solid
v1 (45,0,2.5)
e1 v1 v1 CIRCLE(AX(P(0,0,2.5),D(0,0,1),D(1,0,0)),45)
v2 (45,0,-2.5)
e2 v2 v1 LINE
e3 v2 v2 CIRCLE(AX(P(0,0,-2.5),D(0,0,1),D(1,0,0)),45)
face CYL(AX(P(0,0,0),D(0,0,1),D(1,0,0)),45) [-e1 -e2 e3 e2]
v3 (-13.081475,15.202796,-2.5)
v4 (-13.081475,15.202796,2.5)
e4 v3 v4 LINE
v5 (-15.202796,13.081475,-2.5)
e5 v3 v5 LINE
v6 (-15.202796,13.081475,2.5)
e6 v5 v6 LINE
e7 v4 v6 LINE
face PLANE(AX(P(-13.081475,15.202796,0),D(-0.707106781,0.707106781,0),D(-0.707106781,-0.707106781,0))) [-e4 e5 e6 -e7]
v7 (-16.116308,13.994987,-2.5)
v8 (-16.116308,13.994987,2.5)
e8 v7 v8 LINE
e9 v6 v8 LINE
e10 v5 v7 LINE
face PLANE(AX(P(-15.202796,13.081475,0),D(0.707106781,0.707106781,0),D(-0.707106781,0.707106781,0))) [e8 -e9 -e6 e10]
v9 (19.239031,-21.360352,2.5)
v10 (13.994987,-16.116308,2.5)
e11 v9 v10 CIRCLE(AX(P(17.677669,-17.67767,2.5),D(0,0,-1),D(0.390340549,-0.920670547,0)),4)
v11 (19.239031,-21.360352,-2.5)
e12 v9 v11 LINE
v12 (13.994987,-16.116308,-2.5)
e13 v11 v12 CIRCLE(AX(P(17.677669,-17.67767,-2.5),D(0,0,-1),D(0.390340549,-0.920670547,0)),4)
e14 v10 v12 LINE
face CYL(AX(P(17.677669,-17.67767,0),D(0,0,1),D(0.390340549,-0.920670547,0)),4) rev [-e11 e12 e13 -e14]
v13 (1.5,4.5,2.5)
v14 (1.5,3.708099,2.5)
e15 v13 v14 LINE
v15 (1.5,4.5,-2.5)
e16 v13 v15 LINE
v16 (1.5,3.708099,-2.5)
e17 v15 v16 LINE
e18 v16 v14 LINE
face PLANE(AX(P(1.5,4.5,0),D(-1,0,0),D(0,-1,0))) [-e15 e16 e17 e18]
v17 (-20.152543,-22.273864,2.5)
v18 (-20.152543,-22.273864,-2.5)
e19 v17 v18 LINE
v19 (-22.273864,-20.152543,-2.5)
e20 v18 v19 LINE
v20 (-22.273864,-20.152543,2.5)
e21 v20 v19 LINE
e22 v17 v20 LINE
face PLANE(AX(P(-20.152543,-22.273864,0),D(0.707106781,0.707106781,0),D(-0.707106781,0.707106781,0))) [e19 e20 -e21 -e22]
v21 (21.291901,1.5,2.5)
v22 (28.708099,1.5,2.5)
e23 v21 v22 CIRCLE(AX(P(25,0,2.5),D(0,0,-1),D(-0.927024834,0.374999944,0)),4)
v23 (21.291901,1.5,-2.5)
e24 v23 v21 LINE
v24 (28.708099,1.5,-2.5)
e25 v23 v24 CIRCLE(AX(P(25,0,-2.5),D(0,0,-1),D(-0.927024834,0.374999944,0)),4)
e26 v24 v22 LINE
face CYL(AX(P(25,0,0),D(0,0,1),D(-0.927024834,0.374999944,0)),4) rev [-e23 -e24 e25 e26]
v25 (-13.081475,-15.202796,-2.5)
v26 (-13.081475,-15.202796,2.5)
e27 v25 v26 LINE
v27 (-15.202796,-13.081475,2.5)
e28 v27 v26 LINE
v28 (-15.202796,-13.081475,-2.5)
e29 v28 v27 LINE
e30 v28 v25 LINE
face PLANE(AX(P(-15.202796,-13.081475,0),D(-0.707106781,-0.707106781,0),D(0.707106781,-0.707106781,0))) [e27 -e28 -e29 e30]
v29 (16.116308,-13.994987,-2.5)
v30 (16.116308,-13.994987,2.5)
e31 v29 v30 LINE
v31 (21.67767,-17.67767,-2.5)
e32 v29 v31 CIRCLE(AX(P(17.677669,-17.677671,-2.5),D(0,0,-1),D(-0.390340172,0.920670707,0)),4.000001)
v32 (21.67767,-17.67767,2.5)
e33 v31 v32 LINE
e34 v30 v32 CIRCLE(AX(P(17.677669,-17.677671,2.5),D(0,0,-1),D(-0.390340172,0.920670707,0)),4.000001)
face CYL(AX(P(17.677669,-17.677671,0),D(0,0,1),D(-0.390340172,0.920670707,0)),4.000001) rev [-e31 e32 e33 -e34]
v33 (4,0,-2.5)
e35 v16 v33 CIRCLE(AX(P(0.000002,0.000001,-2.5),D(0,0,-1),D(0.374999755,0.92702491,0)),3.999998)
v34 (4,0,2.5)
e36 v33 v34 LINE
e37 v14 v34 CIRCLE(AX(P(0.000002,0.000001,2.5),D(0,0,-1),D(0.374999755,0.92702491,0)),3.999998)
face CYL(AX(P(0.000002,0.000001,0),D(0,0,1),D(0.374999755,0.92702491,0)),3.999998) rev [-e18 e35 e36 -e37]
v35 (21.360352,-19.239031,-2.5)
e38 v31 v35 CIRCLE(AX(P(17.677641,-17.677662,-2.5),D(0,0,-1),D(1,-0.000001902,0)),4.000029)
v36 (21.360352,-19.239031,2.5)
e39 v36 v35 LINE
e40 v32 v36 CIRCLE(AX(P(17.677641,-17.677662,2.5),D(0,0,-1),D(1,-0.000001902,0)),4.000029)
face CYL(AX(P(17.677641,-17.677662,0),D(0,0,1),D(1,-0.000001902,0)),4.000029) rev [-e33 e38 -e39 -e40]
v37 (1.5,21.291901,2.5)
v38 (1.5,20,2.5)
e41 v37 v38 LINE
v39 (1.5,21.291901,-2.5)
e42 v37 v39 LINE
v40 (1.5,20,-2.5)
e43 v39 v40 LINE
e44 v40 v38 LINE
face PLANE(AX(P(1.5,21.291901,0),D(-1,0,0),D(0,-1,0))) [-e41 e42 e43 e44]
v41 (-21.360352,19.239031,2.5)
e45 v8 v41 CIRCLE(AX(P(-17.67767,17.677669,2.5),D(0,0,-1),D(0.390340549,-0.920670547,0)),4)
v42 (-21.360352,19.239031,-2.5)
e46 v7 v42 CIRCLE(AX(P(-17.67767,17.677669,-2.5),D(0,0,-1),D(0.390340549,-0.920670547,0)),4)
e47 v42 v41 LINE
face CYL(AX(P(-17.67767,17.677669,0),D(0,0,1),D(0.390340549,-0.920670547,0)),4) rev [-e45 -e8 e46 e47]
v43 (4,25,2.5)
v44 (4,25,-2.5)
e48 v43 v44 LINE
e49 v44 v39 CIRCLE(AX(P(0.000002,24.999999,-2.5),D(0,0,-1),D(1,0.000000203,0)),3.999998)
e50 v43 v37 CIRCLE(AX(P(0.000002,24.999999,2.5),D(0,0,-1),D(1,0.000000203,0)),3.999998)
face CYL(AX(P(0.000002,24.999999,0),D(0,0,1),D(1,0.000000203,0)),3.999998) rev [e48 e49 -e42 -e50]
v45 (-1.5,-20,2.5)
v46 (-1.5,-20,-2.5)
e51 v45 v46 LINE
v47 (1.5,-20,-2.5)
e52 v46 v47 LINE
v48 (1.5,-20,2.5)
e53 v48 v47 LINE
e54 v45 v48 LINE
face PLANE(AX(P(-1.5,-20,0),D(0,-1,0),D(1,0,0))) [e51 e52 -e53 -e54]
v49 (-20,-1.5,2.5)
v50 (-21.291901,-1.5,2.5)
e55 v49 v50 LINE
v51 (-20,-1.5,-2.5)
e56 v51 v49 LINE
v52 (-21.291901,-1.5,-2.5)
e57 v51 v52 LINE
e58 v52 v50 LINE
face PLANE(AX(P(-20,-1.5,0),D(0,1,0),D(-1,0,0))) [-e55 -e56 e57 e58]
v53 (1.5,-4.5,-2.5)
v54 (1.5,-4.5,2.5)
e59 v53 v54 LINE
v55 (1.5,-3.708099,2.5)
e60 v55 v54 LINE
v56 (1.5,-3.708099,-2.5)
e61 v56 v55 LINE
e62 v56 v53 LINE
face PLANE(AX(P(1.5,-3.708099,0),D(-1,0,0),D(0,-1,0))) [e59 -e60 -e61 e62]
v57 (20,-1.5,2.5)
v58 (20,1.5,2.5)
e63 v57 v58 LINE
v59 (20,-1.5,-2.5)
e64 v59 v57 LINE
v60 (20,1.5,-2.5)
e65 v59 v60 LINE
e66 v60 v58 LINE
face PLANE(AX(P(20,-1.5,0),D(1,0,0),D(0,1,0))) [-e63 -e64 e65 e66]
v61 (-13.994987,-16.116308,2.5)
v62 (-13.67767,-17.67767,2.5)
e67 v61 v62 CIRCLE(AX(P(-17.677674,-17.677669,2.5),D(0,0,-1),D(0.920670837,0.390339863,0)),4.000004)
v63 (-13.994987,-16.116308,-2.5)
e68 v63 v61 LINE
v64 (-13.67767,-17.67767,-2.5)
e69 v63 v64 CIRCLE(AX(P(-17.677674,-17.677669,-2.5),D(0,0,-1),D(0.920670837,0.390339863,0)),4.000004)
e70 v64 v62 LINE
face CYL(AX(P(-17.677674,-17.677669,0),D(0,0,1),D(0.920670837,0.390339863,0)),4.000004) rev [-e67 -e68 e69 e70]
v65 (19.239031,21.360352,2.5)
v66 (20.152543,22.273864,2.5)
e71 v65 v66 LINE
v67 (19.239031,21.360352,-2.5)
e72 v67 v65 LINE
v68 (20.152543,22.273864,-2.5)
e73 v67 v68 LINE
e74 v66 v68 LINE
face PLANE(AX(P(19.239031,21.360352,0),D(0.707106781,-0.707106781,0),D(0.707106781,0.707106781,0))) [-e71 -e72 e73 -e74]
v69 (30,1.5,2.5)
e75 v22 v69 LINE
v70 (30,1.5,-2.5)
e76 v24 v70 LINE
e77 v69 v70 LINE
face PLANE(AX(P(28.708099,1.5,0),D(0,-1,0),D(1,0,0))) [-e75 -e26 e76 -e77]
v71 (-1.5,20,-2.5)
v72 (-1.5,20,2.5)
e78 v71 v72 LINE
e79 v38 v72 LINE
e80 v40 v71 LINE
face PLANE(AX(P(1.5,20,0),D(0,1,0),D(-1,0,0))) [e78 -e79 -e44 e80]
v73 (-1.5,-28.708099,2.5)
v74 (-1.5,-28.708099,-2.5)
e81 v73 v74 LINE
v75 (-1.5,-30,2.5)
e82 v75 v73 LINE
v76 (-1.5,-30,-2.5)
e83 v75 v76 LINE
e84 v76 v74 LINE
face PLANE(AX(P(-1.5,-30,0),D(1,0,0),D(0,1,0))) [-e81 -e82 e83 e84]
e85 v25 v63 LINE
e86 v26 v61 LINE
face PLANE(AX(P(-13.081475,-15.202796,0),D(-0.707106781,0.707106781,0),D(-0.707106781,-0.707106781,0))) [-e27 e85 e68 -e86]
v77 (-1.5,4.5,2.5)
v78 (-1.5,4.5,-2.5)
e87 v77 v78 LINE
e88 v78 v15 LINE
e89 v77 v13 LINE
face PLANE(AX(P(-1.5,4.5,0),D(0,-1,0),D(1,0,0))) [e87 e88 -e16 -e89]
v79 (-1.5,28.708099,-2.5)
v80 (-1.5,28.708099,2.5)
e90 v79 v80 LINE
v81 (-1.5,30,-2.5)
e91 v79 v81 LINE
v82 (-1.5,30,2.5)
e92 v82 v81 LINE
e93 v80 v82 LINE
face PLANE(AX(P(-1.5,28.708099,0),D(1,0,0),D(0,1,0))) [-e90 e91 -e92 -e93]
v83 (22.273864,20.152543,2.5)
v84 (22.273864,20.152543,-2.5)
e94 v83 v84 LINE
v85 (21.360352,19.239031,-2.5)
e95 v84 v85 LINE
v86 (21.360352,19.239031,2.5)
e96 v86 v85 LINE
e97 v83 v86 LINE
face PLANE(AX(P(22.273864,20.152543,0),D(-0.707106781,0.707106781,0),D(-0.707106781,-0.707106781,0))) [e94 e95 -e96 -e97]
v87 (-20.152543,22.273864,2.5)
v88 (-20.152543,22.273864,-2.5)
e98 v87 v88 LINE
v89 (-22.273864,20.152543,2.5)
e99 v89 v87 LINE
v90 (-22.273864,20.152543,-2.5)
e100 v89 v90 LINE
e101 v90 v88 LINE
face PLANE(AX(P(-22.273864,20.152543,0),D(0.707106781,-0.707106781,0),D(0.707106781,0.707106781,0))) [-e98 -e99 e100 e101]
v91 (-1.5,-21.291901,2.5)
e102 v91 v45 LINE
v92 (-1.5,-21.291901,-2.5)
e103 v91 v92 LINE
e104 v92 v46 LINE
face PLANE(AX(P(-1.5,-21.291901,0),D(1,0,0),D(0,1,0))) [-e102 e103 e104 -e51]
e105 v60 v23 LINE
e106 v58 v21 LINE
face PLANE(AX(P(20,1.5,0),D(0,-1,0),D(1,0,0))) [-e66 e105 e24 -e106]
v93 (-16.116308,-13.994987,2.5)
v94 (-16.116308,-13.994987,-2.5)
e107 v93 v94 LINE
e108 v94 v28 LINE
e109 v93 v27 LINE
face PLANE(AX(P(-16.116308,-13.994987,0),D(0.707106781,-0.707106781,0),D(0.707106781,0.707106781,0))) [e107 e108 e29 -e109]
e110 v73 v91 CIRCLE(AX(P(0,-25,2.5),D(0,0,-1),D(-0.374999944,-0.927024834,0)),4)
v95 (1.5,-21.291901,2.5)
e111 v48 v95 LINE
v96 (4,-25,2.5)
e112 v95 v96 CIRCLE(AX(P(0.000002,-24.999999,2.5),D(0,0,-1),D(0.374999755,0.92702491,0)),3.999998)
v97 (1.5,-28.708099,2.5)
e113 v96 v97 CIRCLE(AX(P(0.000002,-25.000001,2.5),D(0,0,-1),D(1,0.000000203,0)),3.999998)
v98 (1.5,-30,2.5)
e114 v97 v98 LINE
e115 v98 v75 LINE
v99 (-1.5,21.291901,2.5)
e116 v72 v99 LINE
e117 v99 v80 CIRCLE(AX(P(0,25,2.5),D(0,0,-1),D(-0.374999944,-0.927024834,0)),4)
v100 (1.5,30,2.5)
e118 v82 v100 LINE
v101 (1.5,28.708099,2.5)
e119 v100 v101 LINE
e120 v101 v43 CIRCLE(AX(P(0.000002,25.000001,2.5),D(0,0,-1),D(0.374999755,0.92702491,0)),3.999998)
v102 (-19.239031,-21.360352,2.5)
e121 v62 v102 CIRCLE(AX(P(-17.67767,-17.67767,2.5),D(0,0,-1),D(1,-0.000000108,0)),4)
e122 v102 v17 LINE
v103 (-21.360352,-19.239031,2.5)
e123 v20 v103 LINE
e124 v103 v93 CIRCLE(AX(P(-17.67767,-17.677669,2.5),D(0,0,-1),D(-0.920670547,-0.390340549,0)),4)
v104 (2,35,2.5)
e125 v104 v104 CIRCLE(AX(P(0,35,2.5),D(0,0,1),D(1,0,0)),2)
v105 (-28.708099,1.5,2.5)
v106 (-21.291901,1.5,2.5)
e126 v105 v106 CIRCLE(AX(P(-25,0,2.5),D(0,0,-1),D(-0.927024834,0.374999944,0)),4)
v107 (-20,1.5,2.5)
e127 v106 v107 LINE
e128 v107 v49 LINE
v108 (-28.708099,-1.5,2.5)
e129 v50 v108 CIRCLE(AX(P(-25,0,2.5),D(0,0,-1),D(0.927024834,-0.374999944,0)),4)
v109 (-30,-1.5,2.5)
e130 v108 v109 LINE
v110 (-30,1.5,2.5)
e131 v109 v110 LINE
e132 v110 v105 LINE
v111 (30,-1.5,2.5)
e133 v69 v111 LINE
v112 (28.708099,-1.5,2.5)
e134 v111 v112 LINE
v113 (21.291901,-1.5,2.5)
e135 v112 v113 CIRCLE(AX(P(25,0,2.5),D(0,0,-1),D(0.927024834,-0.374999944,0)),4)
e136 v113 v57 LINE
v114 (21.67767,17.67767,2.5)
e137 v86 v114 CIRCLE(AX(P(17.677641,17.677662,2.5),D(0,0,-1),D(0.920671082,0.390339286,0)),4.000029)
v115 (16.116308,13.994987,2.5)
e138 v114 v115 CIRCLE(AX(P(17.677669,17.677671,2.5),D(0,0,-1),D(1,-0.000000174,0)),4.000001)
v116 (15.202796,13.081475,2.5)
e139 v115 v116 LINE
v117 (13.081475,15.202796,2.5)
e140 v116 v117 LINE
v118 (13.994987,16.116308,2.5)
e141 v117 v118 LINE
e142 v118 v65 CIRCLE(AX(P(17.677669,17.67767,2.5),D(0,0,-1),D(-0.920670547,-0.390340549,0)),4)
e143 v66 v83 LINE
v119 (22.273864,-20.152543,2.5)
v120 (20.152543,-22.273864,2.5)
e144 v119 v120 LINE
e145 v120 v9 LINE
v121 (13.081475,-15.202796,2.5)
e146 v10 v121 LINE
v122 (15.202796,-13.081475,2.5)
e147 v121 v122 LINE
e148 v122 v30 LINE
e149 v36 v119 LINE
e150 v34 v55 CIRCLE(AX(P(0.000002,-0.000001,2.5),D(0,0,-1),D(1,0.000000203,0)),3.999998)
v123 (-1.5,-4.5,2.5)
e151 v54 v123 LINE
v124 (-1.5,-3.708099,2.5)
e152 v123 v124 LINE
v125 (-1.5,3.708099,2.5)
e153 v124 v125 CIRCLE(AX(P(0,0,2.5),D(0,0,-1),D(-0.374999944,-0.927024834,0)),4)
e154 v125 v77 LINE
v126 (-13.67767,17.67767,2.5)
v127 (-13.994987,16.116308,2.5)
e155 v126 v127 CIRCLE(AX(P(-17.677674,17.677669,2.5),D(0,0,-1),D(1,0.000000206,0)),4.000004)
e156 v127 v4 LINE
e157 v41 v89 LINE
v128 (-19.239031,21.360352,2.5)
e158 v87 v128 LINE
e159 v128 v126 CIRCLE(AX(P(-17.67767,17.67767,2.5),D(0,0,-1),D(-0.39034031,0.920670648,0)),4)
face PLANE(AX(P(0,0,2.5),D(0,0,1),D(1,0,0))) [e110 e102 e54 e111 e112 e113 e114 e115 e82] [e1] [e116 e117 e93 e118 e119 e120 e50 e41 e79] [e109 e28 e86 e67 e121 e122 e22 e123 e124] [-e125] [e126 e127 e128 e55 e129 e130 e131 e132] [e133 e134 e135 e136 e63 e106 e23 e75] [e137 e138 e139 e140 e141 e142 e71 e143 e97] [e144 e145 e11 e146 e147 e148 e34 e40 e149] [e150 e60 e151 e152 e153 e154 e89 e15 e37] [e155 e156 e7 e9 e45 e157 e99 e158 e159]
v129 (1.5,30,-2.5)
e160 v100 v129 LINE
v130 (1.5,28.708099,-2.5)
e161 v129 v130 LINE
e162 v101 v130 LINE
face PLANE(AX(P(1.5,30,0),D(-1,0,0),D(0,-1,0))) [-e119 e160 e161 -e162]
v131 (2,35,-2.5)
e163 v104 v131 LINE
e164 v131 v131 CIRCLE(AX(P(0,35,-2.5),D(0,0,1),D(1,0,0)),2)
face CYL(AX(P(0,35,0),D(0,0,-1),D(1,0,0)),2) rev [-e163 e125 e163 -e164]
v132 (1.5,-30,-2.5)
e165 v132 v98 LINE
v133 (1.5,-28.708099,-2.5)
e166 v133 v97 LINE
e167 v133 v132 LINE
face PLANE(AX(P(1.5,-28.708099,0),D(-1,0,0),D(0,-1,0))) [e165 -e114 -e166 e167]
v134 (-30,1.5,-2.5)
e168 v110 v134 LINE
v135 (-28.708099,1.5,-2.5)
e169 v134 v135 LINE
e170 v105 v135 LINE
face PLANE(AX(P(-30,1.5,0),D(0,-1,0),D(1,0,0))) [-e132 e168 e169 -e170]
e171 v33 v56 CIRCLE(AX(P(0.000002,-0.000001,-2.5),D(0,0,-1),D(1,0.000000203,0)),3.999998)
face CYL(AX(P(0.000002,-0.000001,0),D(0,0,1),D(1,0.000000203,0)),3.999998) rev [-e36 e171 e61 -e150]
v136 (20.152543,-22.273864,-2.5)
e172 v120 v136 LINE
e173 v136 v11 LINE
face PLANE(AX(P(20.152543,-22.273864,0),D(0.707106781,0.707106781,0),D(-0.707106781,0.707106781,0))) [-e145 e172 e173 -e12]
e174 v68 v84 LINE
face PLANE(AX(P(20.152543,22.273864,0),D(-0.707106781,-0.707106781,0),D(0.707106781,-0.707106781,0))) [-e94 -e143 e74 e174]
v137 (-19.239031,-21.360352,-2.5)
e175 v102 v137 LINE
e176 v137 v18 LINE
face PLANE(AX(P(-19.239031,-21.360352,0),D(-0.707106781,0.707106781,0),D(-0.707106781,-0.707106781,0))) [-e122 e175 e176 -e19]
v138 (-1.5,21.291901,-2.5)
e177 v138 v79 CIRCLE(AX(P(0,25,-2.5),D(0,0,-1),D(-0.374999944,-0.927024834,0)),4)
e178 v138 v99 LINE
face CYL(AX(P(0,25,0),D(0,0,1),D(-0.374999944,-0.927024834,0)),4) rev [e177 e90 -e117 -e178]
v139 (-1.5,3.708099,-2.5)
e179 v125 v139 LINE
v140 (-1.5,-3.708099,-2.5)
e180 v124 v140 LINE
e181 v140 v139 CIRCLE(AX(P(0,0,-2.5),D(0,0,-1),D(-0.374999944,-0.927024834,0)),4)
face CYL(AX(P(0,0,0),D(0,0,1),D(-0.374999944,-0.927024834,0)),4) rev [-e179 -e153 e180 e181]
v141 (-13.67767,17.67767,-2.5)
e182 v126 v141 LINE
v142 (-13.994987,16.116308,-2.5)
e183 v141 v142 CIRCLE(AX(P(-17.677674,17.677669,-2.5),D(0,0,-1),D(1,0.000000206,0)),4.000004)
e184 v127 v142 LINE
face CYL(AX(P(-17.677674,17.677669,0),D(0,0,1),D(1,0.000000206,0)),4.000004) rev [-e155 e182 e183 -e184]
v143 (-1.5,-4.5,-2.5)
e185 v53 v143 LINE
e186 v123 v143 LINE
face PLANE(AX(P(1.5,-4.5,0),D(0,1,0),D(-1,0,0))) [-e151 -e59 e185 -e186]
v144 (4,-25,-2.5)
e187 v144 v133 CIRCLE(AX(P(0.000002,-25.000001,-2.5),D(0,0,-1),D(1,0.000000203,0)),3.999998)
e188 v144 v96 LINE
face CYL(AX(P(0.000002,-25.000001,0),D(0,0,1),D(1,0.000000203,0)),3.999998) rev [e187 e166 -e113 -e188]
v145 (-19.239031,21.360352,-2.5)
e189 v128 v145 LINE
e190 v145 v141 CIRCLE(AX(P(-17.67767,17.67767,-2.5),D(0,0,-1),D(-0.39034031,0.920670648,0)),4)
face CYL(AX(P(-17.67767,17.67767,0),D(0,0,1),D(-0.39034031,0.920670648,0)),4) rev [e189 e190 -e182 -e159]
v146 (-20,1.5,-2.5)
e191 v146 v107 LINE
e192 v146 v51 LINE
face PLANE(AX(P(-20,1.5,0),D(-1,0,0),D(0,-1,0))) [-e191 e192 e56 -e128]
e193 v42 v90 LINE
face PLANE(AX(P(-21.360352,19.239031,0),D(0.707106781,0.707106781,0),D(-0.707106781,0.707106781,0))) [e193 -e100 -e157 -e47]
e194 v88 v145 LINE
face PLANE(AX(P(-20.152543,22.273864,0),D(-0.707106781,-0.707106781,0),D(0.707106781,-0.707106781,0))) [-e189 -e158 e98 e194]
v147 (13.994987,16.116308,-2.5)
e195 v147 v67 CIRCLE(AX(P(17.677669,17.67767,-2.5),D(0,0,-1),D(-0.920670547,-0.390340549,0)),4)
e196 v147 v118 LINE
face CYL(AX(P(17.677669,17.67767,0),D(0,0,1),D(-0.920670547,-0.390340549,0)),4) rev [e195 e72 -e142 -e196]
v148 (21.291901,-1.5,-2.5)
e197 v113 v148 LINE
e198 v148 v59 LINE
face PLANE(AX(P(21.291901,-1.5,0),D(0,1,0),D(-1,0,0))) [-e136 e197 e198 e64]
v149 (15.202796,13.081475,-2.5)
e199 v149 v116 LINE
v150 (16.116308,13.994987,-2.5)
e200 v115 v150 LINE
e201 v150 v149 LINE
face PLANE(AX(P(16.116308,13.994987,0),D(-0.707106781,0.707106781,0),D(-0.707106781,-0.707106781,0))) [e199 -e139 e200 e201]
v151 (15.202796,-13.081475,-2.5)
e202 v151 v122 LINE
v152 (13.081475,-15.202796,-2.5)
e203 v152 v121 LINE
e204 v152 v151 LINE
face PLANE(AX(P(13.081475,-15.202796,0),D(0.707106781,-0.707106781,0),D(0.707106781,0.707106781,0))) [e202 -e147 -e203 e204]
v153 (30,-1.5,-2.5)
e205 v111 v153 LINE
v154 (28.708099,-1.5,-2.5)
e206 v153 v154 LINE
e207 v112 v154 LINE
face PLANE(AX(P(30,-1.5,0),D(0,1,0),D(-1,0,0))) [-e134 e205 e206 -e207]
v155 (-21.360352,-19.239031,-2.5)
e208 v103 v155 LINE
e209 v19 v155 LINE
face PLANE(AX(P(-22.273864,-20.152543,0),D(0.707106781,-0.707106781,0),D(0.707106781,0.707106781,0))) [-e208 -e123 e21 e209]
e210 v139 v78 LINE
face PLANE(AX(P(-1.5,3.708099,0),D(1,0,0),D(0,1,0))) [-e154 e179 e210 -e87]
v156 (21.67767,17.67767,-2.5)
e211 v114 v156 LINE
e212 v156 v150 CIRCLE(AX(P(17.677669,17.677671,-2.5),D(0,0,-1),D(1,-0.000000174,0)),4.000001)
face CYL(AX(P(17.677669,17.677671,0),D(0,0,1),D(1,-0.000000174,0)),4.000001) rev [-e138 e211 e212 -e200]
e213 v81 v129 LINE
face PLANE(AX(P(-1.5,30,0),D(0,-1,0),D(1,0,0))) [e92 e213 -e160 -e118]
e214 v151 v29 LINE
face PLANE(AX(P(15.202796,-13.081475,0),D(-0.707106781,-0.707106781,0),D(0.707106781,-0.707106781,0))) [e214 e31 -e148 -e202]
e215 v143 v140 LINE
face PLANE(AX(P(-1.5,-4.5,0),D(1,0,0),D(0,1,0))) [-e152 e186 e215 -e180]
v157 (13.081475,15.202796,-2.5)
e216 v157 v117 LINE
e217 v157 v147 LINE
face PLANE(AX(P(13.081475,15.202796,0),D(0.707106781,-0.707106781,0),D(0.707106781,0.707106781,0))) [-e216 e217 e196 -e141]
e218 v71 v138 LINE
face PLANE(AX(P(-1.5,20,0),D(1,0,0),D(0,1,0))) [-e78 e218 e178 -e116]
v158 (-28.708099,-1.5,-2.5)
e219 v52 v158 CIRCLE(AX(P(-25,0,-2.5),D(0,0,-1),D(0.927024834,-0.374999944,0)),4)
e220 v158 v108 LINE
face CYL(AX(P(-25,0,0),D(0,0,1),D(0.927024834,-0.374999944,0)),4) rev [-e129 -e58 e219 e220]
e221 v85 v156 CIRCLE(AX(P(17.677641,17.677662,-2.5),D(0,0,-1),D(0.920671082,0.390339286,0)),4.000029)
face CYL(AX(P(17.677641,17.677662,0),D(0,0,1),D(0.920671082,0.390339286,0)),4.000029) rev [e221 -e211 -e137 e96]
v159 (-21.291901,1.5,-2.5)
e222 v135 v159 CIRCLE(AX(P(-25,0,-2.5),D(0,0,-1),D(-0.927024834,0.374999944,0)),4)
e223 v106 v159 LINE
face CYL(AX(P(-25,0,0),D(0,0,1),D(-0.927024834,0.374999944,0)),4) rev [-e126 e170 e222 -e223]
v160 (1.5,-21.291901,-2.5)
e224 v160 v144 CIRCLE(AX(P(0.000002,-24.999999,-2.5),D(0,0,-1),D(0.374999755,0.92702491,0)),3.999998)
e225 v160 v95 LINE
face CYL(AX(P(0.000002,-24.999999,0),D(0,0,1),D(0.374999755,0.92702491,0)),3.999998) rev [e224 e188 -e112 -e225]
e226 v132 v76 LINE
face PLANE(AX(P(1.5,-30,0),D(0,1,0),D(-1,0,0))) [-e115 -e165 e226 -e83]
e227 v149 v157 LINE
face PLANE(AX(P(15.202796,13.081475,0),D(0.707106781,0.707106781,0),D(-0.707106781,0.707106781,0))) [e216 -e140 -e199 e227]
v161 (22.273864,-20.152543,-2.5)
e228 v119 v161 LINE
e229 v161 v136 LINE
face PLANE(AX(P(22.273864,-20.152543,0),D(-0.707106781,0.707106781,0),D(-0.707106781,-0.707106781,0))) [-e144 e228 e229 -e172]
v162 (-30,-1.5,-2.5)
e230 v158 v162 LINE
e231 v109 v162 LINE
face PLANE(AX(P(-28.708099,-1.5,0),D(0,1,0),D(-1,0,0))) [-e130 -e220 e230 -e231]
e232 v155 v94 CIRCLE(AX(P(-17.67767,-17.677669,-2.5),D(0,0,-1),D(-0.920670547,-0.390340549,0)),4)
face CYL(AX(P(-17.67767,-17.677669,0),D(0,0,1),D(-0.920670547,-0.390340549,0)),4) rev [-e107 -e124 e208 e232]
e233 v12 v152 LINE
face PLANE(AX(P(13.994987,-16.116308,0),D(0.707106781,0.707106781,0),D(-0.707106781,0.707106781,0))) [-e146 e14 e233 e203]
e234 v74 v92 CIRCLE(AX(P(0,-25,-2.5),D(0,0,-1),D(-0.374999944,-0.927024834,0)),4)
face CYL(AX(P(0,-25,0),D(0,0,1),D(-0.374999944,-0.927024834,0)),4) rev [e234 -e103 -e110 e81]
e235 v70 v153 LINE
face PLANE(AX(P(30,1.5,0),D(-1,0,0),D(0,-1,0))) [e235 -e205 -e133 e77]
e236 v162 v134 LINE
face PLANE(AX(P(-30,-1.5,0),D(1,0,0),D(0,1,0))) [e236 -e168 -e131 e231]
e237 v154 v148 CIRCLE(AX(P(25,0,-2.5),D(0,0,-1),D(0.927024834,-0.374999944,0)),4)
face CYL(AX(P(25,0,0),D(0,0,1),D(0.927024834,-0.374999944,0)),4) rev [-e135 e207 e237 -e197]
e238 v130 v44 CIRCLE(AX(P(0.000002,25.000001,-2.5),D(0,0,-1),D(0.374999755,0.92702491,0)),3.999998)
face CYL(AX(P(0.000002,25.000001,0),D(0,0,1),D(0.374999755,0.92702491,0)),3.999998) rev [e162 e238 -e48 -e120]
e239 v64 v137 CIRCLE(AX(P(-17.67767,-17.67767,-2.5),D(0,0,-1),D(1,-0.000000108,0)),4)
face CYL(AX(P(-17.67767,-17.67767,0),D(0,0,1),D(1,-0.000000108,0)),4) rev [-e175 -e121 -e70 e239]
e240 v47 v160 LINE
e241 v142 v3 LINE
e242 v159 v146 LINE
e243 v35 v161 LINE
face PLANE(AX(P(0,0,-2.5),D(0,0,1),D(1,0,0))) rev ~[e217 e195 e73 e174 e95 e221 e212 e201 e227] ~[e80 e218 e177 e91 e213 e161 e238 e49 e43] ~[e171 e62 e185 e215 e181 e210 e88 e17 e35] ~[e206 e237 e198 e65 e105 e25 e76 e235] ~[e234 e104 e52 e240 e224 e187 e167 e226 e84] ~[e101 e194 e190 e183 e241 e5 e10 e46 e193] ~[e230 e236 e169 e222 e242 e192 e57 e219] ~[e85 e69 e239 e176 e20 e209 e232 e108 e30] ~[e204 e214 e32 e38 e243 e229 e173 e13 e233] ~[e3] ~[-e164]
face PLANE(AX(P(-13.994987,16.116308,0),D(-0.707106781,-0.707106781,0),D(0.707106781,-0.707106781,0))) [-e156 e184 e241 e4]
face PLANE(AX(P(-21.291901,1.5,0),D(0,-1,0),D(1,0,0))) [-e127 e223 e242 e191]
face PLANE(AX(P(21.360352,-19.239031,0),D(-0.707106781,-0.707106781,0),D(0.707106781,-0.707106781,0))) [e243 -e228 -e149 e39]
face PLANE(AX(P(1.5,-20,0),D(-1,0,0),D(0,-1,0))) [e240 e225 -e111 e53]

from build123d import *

# Parameters (mm, degrees)
F0_R     = 45
F0_R_2   = 2
F1_DEPTH = 2.5


with BuildPart() as f1:
    # F0 (on Top) → F1 (new body, symmetric)
    with BuildSketch(Plane.XY):
        Circle(F0_R)
        with BuildLine():
            Line((-15.202796, -13.081475), (-13.081475, -15.202796))
            Line((-13.081475, -15.202796), (-13.994987, -16.116308))
            ThreePointArc((-13.994987, -16.116308), (-13.757802, -16.881029), (-13.67767, -17.67767))
            ThreePointArc((-13.67767, -17.67767), (-15.469214, -21.012744), (-19.239031, -21.360352))
            Line((-19.239031, -21.360352), (-20.152543, -22.273864))
            Line((-20.152543, -22.273864), (-22.273864, -20.152543))
            Line((-22.273864, -20.152543), (-21.360352, -19.239031))
            ThreePointArc((-21.360352, -19.239031), (-20.506097, -14.849242), (-16.116308, -13.994987))
            Line((-16.116308, -13.994987), (-15.202796, -13.081475))
        make_face(mode=Mode.SUBTRACT)
        with BuildLine():
            ThreePointArc((1.5, -21.291901), (3.316625, -22.763932), (4, -25))
            ThreePointArc((4, -25), (3.316625, -27.236068), (1.5, -28.708099))
            Line((1.5, -28.708099), (1.5, -30))
            Line((1.5, -30), (-1.5, -30))
            Line((-1.5, -30), (-1.5, -28.708099))
            ThreePointArc((-1.5, -28.708099), (-4, -25), (-1.5, -21.291901))
            Line((-1.5, -21.291901), (-1.5, -20))
            Line((-1.5, -20), (1.5, -20))
            Line((1.5, -20), (1.5, -21.291901))
        make_face(mode=Mode.SUBTRACT)
        with BuildLine():
            Line((13.081475, -15.202796), (15.202796, -13.081475))
            Line((15.202796, -13.081475), (16.116308, -13.994987))
            ThreePointArc((16.116308, -13.994987), (19.886125, -14.342595), (21.67767, -17.67767))
            ThreePointArc((21.67767, -17.67767), (21.597537, -18.47431), (21.360352, -19.239031))
            Line((21.360352, -19.239031), (22.273864, -20.152543))
            Line((22.273864, -20.152543), (20.152543, -22.273864))
            Line((20.152543, -22.273864), (19.239031, -21.360352))
            ThreePointArc((19.239031, -21.360352), (14.849242, -20.506097), (13.994987, -16.116308))
            Line((13.994987, -16.116308), (13.081475, -15.202796))
        make_face(mode=Mode.SUBTRACT)
        with BuildLine():
            Line((-20, 1.5), (-20, -1.5))
            Line((-20, -1.5), (-21.291901, -1.5))
            ThreePointArc((-21.291901, -1.5), (-25, -4), (-28.708099, -1.5))
            Line((-28.708099, -1.5), (-30, -1.5))
            Line((-30, -1.5), (-30, 1.5))
            Line((-30, 1.5), (-28.708099, 1.5))
            ThreePointArc((-28.708099, 1.5), (-25, 4), (-21.291901, 1.5))
            Line((-21.291901, 1.5), (-20, 1.5))
        make_face(mode=Mode.SUBTRACT)
        with BuildLine():
            Line((-13.081475, 15.202796), (-15.202796, 13.081475))
            Line((-15.202796, 13.081475), (-16.116308, 13.994987))
            ThreePointArc((-16.116308, 13.994987), (-20.506097, 14.849242), (-21.360352, 19.239031))
            Line((-21.360352, 19.239031), (-22.273864, 20.152543))
            Line((-22.273864, 20.152543), (-20.152543, 22.273864))
            Line((-20.152543, 22.273864), (-19.239031, 21.360352))
            ThreePointArc((-19.239031, 21.360352), (-15.469214, 21.012744), (-13.67767, 17.67767))
            ThreePointArc((-13.67767, 17.67767), (-13.757802, 16.881029), (-13.994987, 16.116308))
            Line((-13.994987, 16.116308), (-13.081475, 15.202796))
        make_face(mode=Mode.SUBTRACT)
        with BuildLine():
            ThreePointArc((1.5, 3.708099), (3.316625, 2.236068), (4, 0))
            ThreePointArc((4, 0), (3.316625, -2.236068), (1.5, -3.708099))
            Line((1.5, -3.708099), (1.5, -4.5))
            Line((1.5, -4.5), (-1.5, -4.5))
            Line((-1.5, -4.5), (-1.5, -3.708099))
            ThreePointArc((-1.5, -3.708099), (-4, 0), (-1.5, 3.708099))
            Line((-1.5, 3.708099), (-1.5, 4.5))
            Line((-1.5, 4.5), (1.5, 4.5))
            Line((1.5, 4.5), (1.5, 3.708099))
        make_face(mode=Mode.SUBTRACT)
        with BuildLine():
            Line((15.202796, 13.081475), (13.081475, 15.202796))
            Line((13.081475, 15.202796), (13.994987, 16.116308))
            ThreePointArc((13.994987, 16.116308), (14.849242, 20.506097), (19.239031, 21.360352))
            Line((19.239031, 21.360352), (20.152543, 22.273864))
            Line((20.152543, 22.273864), (22.273864, 20.152543))
            Line((22.273864, 20.152543), (21.360352, 19.239031))
            ThreePointArc((21.360352, 19.239031), (21.597537, 18.47431), (21.67767, 17.67767))
            ThreePointArc((21.67767, 17.67767), (19.886125, 14.342595), (16.116308, 13.994987))
            Line((16.116308, 13.994987), (15.202796, 13.081475))
        make_face(mode=Mode.SUBTRACT)
        with BuildLine():
            Line((20, -1.5), (20, 1.5))
            Line((20, 1.5), (21.291901, 1.5))
            ThreePointArc((21.291901, 1.5), (25, 4), (28.708099, 1.5))
            Line((28.708099, 1.5), (30, 1.5))
            Line((30, 1.5), (30, -1.5))
            Line((30, -1.5), (28.708099, -1.5))
            ThreePointArc((28.708099, -1.5), (25, -4), (21.291901, -1.5))
            Line((21.291901, -1.5), (20, -1.5))
        make_face(mode=Mode.SUBTRACT)
        with BuildLine():
            Line((1.5, 20), (-1.5, 20))
            Line((-1.5, 20), (-1.5, 21.291901))
            ThreePointArc((-1.5, 21.291901), (-4, 25), (-1.5, 28.708099))
            Line((-1.5, 28.708099), (-1.5, 30))
            Line((-1.5, 30), (1.5, 30))
            Line((1.5, 30), (1.5, 28.708099))
            ThreePointArc((1.5, 28.708099), (3.316625, 27.236068), (4, 25))
            ThreePointArc((4, 25), (3.316625, 22.763932), (1.5, 21.291901))
            Line((1.5, 21.291901), (1.5, 20))
        make_face(mode=Mode.SUBTRACT)
        with Locations((0, 35)):
            Circle(F0_R_2, mode=Mode.SUBTRACT)
    extrude(amount=F1_DEPTH, both=True)


solid = f1.part
